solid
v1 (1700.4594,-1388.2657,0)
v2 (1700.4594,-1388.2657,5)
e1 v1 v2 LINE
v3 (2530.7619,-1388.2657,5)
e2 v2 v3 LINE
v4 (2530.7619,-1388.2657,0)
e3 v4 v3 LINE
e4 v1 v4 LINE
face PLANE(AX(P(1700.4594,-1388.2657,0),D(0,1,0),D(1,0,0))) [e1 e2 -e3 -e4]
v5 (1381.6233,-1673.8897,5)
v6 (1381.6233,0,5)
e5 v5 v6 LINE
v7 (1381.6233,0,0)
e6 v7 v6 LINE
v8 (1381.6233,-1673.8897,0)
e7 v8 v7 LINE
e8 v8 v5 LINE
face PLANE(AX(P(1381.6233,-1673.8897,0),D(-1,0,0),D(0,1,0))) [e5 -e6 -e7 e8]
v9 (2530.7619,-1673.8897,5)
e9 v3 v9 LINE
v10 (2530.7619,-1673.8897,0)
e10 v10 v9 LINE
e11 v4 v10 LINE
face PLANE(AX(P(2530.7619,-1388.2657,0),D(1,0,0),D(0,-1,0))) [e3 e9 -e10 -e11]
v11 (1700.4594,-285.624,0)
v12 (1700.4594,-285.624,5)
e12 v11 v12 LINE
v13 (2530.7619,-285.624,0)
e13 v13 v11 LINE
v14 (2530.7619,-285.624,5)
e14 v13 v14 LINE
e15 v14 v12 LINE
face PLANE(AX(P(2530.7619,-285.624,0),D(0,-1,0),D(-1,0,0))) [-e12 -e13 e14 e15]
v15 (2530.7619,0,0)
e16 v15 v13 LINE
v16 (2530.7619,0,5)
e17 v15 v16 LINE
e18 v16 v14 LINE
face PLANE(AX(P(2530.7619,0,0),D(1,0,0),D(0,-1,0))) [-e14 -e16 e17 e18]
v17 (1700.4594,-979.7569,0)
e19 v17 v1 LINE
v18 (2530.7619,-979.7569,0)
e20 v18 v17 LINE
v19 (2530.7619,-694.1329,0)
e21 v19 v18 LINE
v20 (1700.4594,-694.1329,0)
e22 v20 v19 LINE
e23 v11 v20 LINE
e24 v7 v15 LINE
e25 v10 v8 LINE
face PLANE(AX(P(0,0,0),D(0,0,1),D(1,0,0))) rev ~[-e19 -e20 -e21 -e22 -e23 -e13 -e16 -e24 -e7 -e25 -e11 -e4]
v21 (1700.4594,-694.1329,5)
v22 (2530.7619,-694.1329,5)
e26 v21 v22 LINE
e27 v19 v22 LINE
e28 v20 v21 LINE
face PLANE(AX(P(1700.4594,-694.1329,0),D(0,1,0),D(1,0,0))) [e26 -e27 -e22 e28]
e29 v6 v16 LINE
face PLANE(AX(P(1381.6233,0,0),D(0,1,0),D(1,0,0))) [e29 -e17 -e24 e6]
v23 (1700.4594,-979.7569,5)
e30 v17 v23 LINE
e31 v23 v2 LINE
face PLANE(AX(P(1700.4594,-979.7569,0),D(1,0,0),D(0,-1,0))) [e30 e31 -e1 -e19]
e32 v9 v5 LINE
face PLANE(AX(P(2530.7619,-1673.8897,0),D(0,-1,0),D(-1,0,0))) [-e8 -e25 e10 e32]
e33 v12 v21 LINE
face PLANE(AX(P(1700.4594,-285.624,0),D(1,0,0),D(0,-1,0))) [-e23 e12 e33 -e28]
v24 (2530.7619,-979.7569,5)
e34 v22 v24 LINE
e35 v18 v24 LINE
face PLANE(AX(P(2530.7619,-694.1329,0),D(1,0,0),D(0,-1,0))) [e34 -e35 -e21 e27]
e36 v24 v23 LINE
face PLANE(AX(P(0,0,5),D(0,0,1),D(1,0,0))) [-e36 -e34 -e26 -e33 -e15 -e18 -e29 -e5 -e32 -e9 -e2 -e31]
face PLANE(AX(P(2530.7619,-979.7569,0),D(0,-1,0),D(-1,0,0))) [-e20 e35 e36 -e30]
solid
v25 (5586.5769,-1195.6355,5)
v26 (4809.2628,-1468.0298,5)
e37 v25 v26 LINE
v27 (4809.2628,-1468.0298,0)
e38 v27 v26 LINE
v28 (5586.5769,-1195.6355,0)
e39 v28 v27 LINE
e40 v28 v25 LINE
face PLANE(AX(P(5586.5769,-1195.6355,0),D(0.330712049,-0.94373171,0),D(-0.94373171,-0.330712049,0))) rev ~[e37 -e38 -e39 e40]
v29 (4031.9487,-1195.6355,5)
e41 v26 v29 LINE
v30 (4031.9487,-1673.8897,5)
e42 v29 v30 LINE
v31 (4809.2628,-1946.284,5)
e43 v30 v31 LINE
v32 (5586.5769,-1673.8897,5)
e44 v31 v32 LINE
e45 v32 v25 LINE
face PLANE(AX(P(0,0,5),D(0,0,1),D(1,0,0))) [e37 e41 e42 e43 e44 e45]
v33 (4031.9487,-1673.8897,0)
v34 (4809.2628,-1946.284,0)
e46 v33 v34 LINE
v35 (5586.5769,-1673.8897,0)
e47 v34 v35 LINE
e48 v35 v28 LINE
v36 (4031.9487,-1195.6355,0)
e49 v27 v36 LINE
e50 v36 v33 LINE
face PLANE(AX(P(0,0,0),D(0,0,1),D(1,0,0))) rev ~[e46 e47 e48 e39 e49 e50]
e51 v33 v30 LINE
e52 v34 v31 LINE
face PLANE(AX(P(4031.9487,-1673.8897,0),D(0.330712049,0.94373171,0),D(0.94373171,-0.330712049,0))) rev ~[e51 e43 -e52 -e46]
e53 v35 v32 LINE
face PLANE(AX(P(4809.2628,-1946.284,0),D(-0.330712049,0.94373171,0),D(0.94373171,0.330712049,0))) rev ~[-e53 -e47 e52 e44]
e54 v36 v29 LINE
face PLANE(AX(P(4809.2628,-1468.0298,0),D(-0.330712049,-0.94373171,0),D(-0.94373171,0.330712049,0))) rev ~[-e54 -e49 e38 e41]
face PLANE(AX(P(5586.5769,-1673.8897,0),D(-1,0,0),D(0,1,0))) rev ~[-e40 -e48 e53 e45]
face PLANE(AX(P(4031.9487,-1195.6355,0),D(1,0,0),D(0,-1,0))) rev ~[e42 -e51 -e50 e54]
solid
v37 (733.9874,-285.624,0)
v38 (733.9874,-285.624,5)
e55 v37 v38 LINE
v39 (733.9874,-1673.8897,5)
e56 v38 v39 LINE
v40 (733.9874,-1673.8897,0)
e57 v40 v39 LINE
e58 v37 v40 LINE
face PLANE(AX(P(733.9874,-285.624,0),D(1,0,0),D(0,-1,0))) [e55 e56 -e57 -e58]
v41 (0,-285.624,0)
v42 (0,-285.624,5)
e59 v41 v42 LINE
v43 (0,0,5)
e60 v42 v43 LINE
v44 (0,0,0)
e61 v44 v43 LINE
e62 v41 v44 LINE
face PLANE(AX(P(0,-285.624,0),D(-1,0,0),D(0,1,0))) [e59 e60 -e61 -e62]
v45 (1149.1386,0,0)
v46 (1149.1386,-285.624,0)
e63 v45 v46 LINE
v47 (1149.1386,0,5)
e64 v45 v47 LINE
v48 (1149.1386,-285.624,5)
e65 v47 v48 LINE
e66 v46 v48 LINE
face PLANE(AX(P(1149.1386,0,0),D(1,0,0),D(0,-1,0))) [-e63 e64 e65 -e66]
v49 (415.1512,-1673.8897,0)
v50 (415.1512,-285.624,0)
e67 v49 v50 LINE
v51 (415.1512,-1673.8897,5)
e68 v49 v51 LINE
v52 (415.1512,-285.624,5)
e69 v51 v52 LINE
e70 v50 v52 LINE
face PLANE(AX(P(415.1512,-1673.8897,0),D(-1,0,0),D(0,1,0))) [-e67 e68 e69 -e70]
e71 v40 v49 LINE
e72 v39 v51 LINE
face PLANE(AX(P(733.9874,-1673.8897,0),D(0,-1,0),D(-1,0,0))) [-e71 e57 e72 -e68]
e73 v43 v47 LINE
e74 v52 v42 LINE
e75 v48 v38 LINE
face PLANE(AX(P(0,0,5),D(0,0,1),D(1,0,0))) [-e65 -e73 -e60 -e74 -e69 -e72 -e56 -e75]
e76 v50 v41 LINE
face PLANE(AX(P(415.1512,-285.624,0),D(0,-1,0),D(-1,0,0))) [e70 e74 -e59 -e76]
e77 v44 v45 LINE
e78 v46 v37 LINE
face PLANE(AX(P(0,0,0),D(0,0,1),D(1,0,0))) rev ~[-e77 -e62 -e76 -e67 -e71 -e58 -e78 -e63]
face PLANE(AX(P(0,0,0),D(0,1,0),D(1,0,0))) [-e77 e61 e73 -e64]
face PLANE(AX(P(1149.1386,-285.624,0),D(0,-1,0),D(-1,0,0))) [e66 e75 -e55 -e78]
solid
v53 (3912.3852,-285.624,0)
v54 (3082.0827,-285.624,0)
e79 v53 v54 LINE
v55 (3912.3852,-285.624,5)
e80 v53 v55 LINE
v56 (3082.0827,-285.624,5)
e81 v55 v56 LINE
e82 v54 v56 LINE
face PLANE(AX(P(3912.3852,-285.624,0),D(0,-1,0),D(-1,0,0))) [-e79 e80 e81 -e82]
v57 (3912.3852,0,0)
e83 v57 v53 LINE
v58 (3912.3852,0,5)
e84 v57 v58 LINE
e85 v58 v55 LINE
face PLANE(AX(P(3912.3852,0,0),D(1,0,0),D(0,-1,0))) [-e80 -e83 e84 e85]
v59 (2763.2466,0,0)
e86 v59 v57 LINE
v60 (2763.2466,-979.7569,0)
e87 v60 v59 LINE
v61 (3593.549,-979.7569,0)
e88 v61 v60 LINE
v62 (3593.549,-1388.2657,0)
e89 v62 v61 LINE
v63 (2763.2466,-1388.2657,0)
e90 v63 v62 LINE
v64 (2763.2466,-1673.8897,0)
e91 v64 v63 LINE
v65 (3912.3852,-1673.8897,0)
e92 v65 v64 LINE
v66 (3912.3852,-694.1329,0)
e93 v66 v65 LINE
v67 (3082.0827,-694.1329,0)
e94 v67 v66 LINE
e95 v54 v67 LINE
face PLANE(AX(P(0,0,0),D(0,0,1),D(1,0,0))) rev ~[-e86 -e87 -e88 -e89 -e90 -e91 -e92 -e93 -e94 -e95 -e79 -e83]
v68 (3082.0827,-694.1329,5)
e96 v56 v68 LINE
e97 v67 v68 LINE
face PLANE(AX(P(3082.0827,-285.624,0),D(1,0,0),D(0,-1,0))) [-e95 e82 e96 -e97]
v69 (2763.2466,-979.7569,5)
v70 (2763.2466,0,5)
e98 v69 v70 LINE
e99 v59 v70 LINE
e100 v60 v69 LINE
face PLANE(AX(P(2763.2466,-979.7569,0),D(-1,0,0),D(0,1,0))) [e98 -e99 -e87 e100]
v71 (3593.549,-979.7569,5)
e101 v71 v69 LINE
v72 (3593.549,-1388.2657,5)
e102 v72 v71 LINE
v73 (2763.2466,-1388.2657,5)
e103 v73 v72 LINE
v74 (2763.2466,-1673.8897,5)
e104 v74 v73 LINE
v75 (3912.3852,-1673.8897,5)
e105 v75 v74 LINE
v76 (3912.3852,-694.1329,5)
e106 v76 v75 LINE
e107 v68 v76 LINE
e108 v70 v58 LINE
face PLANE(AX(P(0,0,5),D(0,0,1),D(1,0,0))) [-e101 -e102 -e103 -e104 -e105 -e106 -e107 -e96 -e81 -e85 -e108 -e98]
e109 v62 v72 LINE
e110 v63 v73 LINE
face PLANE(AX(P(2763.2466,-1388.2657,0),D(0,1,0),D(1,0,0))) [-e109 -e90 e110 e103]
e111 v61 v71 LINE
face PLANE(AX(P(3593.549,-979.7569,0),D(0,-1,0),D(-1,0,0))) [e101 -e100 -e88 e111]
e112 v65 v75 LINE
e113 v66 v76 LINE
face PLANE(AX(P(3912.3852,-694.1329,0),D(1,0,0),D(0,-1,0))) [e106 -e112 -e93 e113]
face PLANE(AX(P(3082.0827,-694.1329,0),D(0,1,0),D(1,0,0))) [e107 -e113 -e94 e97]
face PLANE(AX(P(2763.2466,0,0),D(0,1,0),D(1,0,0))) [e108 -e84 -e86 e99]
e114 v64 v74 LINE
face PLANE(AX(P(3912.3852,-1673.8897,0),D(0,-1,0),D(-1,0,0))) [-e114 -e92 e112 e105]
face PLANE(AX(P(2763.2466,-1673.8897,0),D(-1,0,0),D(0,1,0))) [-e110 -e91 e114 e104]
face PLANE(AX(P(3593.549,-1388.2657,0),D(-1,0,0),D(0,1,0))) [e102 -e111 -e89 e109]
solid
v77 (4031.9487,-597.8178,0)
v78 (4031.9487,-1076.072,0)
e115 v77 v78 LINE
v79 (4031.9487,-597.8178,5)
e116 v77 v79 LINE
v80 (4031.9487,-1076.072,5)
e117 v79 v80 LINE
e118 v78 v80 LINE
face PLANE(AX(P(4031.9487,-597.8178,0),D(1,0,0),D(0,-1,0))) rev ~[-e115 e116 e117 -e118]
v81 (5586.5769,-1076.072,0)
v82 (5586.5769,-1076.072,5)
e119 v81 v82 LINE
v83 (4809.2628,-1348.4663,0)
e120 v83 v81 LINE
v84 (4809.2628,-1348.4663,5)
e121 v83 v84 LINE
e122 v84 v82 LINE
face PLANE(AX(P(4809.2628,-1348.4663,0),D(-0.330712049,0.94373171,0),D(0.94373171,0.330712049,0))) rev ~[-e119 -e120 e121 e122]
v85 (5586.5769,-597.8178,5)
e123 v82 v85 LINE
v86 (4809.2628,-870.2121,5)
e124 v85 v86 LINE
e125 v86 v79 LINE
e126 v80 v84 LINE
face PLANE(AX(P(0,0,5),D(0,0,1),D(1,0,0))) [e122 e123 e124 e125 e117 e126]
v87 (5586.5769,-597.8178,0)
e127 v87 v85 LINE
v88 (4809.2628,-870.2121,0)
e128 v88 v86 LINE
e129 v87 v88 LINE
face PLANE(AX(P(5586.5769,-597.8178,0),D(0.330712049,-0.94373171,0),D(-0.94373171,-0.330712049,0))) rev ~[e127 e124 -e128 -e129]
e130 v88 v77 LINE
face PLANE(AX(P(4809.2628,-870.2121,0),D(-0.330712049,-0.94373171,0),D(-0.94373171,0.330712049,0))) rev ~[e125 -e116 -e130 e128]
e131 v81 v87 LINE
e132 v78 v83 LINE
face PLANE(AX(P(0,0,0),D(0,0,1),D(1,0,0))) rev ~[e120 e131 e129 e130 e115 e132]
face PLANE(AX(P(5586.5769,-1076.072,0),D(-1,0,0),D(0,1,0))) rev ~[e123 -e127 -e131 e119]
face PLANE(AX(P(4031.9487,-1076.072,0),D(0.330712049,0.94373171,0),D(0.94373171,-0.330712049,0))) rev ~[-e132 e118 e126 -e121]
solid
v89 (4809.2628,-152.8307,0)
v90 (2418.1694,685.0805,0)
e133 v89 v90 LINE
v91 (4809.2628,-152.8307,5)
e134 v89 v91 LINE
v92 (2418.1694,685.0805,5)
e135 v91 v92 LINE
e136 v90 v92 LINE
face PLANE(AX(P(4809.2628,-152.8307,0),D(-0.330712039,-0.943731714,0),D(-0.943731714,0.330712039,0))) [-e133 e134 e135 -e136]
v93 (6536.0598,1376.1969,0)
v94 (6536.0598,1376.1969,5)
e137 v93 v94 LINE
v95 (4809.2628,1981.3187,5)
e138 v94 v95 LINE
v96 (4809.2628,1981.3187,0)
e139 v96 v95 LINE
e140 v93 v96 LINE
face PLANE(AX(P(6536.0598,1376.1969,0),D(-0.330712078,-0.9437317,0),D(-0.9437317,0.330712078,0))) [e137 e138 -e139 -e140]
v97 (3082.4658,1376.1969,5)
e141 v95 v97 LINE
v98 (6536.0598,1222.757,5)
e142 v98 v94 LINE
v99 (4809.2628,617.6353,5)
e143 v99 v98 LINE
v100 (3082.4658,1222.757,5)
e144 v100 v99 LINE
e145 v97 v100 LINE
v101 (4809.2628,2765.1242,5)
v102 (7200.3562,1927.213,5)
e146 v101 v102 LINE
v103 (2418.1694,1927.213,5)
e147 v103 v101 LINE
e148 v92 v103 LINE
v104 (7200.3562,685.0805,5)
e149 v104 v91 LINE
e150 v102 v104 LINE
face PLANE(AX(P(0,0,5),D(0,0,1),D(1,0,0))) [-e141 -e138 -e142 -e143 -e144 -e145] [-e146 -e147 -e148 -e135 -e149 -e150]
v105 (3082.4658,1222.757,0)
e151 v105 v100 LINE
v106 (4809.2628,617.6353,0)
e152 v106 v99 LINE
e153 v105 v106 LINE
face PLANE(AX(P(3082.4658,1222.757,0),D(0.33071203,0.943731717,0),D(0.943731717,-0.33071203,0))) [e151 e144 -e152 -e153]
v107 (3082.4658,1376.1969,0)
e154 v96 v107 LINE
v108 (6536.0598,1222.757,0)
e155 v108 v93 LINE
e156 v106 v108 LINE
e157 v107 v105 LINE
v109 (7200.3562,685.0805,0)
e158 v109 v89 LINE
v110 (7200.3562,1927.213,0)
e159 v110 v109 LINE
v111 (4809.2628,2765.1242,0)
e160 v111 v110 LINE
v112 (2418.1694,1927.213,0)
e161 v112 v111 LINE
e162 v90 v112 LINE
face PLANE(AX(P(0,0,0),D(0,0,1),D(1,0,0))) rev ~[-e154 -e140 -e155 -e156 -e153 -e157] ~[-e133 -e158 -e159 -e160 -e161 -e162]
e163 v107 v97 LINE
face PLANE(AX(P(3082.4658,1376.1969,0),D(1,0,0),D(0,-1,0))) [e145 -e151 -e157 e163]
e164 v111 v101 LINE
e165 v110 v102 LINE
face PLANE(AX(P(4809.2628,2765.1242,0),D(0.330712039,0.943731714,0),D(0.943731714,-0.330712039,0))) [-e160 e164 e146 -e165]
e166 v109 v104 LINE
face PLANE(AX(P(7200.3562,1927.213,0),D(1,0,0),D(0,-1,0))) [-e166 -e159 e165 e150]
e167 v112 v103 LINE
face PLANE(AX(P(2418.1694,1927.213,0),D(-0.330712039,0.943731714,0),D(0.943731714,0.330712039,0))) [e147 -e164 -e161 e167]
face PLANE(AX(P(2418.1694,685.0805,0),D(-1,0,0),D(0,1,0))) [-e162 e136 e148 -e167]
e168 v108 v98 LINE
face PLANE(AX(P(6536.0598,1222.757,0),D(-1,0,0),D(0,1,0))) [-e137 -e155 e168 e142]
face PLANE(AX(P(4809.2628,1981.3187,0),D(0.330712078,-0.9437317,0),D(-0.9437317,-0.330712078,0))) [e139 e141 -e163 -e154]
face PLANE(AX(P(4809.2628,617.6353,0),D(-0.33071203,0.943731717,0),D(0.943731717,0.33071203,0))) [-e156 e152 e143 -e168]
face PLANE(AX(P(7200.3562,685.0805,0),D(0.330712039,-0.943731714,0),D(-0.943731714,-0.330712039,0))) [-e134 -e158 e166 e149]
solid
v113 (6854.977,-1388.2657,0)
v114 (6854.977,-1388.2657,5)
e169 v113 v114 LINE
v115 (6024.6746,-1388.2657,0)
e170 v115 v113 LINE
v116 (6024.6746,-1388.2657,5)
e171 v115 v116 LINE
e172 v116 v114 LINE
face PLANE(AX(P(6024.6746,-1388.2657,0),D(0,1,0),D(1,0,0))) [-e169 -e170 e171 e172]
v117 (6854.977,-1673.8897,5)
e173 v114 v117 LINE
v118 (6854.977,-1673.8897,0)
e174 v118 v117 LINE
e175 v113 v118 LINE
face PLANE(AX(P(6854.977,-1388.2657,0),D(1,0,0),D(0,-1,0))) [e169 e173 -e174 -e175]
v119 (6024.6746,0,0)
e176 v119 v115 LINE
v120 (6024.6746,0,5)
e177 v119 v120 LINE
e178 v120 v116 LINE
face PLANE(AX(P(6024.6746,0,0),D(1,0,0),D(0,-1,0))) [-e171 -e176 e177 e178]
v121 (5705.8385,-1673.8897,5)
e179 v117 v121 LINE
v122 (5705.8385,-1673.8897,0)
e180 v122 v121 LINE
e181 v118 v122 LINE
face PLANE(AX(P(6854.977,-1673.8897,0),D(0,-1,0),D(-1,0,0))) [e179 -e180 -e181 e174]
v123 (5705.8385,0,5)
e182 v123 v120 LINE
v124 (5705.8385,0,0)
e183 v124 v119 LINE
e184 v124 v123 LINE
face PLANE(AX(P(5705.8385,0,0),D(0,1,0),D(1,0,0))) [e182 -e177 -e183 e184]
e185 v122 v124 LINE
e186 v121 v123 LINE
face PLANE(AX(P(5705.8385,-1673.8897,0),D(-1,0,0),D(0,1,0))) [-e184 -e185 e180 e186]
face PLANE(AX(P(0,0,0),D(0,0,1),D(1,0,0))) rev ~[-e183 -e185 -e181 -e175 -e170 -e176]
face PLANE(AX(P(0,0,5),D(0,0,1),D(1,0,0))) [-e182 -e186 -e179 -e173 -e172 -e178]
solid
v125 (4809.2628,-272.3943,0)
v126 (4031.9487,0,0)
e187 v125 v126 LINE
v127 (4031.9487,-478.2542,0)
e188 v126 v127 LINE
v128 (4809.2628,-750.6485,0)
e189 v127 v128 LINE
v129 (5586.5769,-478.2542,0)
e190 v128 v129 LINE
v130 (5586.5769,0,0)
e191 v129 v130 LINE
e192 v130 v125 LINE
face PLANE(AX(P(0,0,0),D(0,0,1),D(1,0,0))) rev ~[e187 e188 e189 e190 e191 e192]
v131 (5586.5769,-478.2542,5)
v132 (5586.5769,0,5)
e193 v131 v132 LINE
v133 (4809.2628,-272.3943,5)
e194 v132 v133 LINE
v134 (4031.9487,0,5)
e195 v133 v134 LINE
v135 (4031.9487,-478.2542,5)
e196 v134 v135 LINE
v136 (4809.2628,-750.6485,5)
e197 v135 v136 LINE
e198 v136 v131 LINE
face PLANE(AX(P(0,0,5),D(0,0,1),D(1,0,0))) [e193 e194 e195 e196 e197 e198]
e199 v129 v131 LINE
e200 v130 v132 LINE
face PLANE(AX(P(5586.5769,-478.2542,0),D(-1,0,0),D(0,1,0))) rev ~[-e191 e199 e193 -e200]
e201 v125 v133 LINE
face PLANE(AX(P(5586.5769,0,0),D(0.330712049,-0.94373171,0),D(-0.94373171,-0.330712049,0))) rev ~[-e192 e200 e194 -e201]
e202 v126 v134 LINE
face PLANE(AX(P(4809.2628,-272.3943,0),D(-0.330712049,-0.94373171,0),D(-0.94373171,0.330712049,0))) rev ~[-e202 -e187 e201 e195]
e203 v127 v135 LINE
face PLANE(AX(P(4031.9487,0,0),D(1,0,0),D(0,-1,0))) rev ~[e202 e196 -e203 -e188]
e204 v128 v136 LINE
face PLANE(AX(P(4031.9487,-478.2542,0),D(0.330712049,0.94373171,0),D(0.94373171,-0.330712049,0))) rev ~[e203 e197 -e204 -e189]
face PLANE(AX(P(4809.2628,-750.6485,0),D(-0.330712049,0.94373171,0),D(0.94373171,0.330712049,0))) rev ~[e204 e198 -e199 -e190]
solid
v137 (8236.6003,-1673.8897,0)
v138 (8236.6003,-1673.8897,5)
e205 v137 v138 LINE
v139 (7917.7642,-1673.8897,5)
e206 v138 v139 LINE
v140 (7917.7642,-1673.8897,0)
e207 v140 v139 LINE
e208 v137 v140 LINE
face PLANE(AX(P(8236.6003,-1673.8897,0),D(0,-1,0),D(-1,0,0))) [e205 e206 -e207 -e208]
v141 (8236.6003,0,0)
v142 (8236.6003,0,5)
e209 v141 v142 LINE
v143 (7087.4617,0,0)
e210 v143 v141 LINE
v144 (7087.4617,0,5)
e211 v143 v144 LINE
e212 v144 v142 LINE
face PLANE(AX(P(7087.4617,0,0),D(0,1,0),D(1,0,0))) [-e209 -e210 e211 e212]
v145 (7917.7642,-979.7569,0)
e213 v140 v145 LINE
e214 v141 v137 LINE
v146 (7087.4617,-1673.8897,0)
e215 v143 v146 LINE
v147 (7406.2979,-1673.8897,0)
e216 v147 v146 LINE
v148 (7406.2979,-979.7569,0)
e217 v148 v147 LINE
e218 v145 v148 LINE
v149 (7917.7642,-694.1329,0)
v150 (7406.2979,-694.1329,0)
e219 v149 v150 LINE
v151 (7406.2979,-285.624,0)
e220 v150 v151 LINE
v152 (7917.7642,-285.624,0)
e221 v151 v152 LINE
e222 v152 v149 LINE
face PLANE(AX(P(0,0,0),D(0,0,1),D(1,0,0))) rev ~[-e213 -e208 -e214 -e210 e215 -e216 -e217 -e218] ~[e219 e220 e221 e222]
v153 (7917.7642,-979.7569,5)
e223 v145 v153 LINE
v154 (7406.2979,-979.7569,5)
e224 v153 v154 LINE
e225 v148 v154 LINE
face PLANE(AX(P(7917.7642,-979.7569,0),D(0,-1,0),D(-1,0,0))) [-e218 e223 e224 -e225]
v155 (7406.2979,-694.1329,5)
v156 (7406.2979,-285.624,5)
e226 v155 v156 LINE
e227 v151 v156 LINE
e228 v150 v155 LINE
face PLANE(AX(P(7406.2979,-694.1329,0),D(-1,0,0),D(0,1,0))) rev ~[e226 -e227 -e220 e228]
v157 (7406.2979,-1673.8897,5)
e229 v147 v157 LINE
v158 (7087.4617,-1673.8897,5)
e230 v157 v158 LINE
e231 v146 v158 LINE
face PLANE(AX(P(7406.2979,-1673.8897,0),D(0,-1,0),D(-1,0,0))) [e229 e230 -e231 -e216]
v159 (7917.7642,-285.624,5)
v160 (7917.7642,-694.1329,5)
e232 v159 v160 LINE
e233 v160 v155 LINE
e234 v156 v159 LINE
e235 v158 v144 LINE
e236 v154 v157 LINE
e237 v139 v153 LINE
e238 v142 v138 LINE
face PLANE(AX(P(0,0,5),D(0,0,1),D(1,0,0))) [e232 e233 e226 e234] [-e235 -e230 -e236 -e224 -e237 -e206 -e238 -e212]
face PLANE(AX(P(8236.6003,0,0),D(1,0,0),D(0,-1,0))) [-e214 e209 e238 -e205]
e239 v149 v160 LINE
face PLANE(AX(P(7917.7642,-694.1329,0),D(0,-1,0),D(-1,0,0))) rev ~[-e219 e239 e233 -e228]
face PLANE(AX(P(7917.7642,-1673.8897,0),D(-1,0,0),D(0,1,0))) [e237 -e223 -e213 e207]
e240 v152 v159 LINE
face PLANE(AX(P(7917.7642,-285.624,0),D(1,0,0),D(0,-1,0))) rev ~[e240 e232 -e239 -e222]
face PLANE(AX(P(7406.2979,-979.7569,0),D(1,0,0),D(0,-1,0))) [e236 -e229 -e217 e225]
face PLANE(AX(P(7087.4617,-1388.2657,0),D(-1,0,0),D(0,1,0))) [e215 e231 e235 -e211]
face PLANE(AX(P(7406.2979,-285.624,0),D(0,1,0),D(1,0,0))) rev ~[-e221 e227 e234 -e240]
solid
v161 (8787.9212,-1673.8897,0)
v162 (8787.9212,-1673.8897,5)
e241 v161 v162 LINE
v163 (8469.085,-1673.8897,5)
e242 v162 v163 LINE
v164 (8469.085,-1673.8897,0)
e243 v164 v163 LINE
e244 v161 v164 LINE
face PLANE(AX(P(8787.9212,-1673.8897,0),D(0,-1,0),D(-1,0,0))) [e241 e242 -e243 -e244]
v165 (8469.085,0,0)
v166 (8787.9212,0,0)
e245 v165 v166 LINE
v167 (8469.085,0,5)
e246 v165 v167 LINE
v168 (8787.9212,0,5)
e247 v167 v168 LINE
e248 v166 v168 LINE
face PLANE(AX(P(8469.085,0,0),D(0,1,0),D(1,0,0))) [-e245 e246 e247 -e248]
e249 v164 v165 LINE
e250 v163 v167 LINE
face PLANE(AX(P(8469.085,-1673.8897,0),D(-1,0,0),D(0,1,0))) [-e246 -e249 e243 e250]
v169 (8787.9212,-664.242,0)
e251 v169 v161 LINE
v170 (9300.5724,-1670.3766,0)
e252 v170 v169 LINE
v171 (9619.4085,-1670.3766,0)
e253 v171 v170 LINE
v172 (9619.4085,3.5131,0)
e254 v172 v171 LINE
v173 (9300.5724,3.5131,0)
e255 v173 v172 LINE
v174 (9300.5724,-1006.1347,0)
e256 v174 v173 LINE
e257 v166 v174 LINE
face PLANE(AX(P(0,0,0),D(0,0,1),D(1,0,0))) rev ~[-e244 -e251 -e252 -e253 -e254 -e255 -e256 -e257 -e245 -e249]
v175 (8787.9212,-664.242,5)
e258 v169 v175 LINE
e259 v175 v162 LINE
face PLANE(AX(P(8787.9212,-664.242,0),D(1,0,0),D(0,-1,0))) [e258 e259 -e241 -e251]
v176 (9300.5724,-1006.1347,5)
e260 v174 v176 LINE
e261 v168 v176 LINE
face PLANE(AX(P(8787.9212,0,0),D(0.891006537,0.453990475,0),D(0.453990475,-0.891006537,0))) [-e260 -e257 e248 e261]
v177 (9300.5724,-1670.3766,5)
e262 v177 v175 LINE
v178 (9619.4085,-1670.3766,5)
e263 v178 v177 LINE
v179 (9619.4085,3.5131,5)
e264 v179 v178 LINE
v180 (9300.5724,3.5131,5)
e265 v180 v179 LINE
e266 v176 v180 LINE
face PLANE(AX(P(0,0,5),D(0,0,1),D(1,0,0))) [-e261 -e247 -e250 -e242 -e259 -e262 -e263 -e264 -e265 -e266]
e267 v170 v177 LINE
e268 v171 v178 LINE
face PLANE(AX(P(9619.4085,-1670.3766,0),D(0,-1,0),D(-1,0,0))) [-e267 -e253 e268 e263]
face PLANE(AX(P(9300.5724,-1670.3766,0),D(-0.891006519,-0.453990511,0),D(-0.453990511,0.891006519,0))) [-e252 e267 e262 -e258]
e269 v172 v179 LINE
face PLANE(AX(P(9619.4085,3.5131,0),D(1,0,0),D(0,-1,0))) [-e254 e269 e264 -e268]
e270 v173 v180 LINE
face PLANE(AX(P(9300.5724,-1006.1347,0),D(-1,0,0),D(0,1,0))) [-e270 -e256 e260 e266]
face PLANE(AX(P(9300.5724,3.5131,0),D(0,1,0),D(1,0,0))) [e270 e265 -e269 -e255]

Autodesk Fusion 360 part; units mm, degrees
sketch "Sketch1" plane through (0, 0, 0) normal (0, 0, 1) x (1, 0, 0)
  line L0 (0, 0) -> (1149.1386, 0)
  line L1 (1149.1386, 0) -> (1149.1386, -285.624)
  line L2 (1149.1386, -285.624) -> (733.9874, -285.624)
  line L3 (733.9874, -285.624) -> (733.9874, -1673.8897)
  line L4 (733.9874, -1673.8897) -> (415.1512, -1673.8897)
  line L5 (415.1512, -1673.8897) -> (415.1512, -285.624)
  line L6 (415.1512, -285.624) -> (0, -285.624)
  line L7 (0, -285.624) -> (0, 0)
  line L8 (1149.1386, 0) -> (1381.6233, 0) construction
  line L9 (1381.6233, 0) -> (2530.7619, 0)
  line L10 (2530.7619, 0) -> (2530.7619, -285.624)
  line L11 (2530.7619, -285.624) -> (1700.4594, -285.624)
  line L12 (1700.4594, -285.624) -> (1700.4594, -694.1329)
  line L13 (1700.4594, -694.1329) -> (2530.7619, -694.1329)
  line L14 (2530.7619, -694.1329) -> (2530.7619, -979.7569)
  line L15 (2530.7619, -979.7569) -> (1700.4594, -979.7569)
  line L16 (1700.4594, -979.7569) -> (1700.4594, -1388.2657)
  line L17 (1700.4594, -1388.2657) -> (2530.7619, -1388.2657)
  line L18 (2530.7619, -1388.2657) -> (2530.7619, -1673.8897)
  line L19 (2530.7619, -1673.8897) -> (1381.6233, -1673.8897)
  line L20 (1381.6233, -1673.8897) -> (1381.6233, 0)
  line L21 (2530.7619, 0) -> (2763.2466, 0) construction
  line L22 (2763.2466, 0) -> (3912.3852, 0)
  line L23 (3912.3852, 0) -> (3912.3852, -285.624)
  line L24 (3912.3852, -285.624) -> (3082.0827, -285.624)
  line L25 (3082.0827, -285.624) -> (3082.0827, -694.1329)
  line L26 (3082.0827, -694.1329) -> (3912.3852, -694.1329)
  line L27 (3912.3852, -694.1329) -> (3912.3852, -1673.8897)
  line L28 (3912.3852, -1673.8897) -> (2763.2466, -1673.8897)
  line L29 (2763.2466, -1673.8897) -> (2763.2466, -1388.2657)
  line L30 (2763.2466, -1388.2657) -> (3593.549, -1388.2657)
  line L31 (3593.549, -1388.2657) -> (3593.549, -979.7569)
  line L32 (3593.549, -979.7569) -> (2763.2466, -979.7569)
  line L33 (2763.2466, -979.7569) -> (2763.2466, 0)
  line L34 (3912.3852, 0) -> (4031.9487, 0) construction
  line L35 (4031.9487, 0) -> (5586.2749, 0) construction
  line L36 (5586.2749, 0) -> (5705.8385, 0) construction
  line L37 (5705.8385, 0) -> (6024.6746, 0)
  line L38 (6024.6746, 0) -> (6024.6746, -1388.2657)
  line L39 (6024.6746, -1388.2657) -> (6854.977, -1388.2657)
  line L40 (6854.977, -1388.2657) -> (6854.977, -1673.8897)
  line L41 (6854.977, -1673.8897) -> (5705.8385, -1673.8897)
  line L42 (5705.8385, -1673.8897) -> (5705.8385, 0)
  line L43 (6854.977, -1388.2657) -> (7087.4617, -1388.2657) construction
  line L44 (7087.4617, -1388.2657) -> (7087.4617, 0)
  line L45 (7087.4617, 0) -> (8236.6003, 0)
  line L46 (8236.6003, 0) -> (8236.6003, -1673.8897)
  line L47 (8236.6003, -1673.8897) -> (7917.7642, -1673.8897)
  line L48 (7917.7642, -1673.8897) -> (7917.7642, -979.7569)
  line L49 (7917.7642, -979.7569) -> (7406.2979, -979.7569)
  line L50 (7406.2979, -979.7569) -> (7406.2979, -1673.8897)
  line L51 (7406.2979, -1673.8897) -> (7087.4617, -1673.8897)
  line L52 (7087.4617, -1673.8897) -> (7087.4617, -1388.2657)
  line L53 (7087.4617, 0) -> (7406.2979, 0) construction
  line L54 (7406.2979, 0) -> (7406.2979, -285.624) construction
  line L55 (7406.2979, -285.624) -> (7087.4617, -285.624) construction
  line L56 (7087.4617, -285.624) -> (7087.4617, 0) construction
  line L57 (7406.2979, -285.624) -> (7917.7642, -285.624)
  line L58 (7917.7642, -285.624) -> (7917.7642, -694.1329)
  line L59 (7917.7642, -694.1329) -> (7406.2979, -694.1329)
  line L60 (7406.2979, -694.1329) -> (7406.2979, -285.624)
  line L61 (8236.6003, 0) -> (8469.085, 0) construction
  line L62 (8469.085, 0) -> (8787.9212, 0)
  line L63 (8787.9212, 0) -> (9300.5724, -1006.1347)
  line L64 (9300.5724, -1006.1347) -> (9300.5724, 3.5131)
  line L65 (9300.5724, 3.5131) -> (9619.4085, 3.5131)
  line L66 (9619.4085, 3.5131) -> (9619.4085, -1670.3766)
  line L67 (9619.4085, -1670.3766) -> (9300.5724, -1670.3766)
  line L68 (9300.5724, -1670.3766) -> (8787.9212, -664.242)
  line L69 (8787.9212, -664.242) -> (8787.9212, -1673.8897)
  line L70 (8787.9212, -1673.8897) -> (8469.085, -1673.8897)
  line L71 (8469.085, -1673.8897) -> (8469.085, 0)
  line L72 (4031.9487, 0) -> (4031.9487, -478.2542)
  line L73 (4031.9487, -478.2542) -> (4809.2628, -750.6485)
  line L74 (4809.2628, -750.6485) -> (5586.5769, -478.2542)
  line L75 (5586.5769, -478.2542) -> (5586.5769, 0)
  line L76 (5586.5769, 0) -> (4809.2628, -272.3943)
  line L77 (4809.2628, -272.3943) -> (4031.9487, 0)
  line L78 (4031.9487, -478.2542) -> (4031.9487, -597.8178) construction
  line L79 (4031.9487, -597.8178) -> (4031.9487, -1076.072)
  line L80 (4031.9487, -1076.072) -> (4809.2628, -1348.4663)
  line L81 (4809.2628, -1348.4663) -> (5586.5769, -1076.072)
  line L82 (5586.5769, -1076.072) -> (5586.5769, -597.8178)
  line L83 (5586.5769, -597.8178) -> (4809.2628, -870.2121)
  line L84 (4809.2628, -870.2121) -> (4031.9487, -597.8178)
  line L85 (4031.9487, -1076.072) -> (4031.9487, -1195.6355) construction
  line L86 (4031.9487, -1195.6355) -> (4031.9487, -1673.8897)
  line L87 (4031.9487, -1673.8897) -> (4809.2628, -1946.284)
  line L88 (4809.2628, -1946.284) -> (5586.5769, -1673.8897)
  line L89 (5586.5769, -1673.8897) -> (5586.5769, -1195.6355)
  line L90 (5586.5769, -1195.6355) -> (4809.2628, -1468.0298)
  line L91 (4809.2628, -1468.0298) -> (4031.9487, -1195.6355)
  line L92 (4809.2628, -272.3943) -> (4809.2628, -152.8307) construction
  line L93 (4809.2628, -152.8307) -> (2418.1694, 685.0805)
  line L94 (2418.1694, 685.0805) -> (2418.1694, 1927.213)
  line L95 (2418.1694, 1927.213) -> (4809.2628, 2765.1242)
  line L96 (4809.2628, 2765.1242) -> (7200.3562, 1927.213)
  line L97 (7200.3562, 1927.213) -> (7200.3562, 685.0805)
  line L98 (7200.3562, 685.0805) -> (4809.2628, -152.8307)
  line L99 (4809.2628, 2765.1242) -> (4809.2628, 1981.3187) construction
  line L100 (4809.2628, 1981.3187) -> (3082.4658, 1376.1969)
  line L101 (3082.4658, 1376.1969) -> (3082.4658, 1222.757)
  line L102 (3082.4658, 1222.757) -> (4809.2628, 617.6353)
  line L103 (4809.2628, 617.6353) -> (6536.0598, 1222.757)
  line L104 (6536.0598, 1222.757) -> (6536.0598, 1376.1969)
  line L105 (6536.0598, 1376.1969) -> (4809.2628, 1981.3187)
  dimension "d38" = 1149.1386
  dimension "d39" = 90
  dimension "d40" = 285.624
  dimension "d41" = 90
  dimension "d42" = 415.1512
  dimension "d43" = 90
  dimension "d44" = 1388.2657
  dimension "d45" = 90
  dimension "d46" = 318.8361
  dimension "d47" = 90
  dimension "d48" = 1388.2657
  dimension "d49" = 90
  dimension "d50" = 415.1512
  dimension "d51" = 285.624
  dimension "d52" = 90
  dimension "d53" = 232.4847
  dimension "d54" = 1149.1386
  dimension "d55" = 285.624
  dimension "d56" = 90
  dimension "d57" = 830.3025
  dimension "d58" = 90
  dimension "d59" = 408.5088
  dimension "d60" = 90
  dimension "d61" = 830.3025
  dimension "d62" = 285.624
  dimension "d63" = 90
  dimension "d64" = 830.3025
  dimension "d65" = 408.5088
  dimension "d66" = 830.3025
  dimension "d67" = 285.624
  dimension "d68" = 1149.1386
  dimension "d69" = 232.4847
  dimension "d70" = 1149.1386
  dimension "d71" = 90
  dimension "d72" = 285.624
  dimension "d73" = 90
  dimension "d74" = 830.3025
  dimension "d75" = 408.5088
  dimension "d76" = 830.3025
  dimension "d77" = 979.7569
  dimension "d78" = 1149.1386
  dimension "d79" = 285.624
  dimension "d80" = 830.3025
  dimension "d81" = 408.5088
  dimension "d82" = 830.3025
  dimension "d83" = 119.5636
  dimension "d84" = 1554.3262
  dimension "d85" = 119.5636
  dimension "d86" = 318.8361
  dimension "d87" = 1388.2657
  dimension "d88" = 830.3025
  dimension "d89" = 285.624
  dimension "d90" = 1149.1386
  dimension "d91" = 1673.8897
  dimension "d92" = 232.4847
  dimension "d93" = 1388.2657
  dimension "d94" = 1149.1386
  dimension "d95" = 1673.8897
  dimension "d96" = 318.8361
  dimension "d97" = 694.1329
  dimension "d98" = 511.4663
  dimension "d99" = 694.1329
  dimension "d100" = 318.8361
  dimension "d101" = 318.8361
  dimension "d102" = 285.624
  dimension "d103" = 511.4663
  dimension "d104" = 408.5088
  dimension "d105" = 232.4847
  dimension "d106" = 318.8361
  dimension "d107" = 117
  dimension "d108" = 1129.2113
  dimension "d109" = 1009.6478
  dimension "d110" = 318.8361
  dimension "d111" = 1673.8897
  dimension "d112" = 318.8361
  dimension "d113" = 117
  dimension "d114" = 1129.2113
  dimension "d115" = 1009.6478
  dimension "d116" = 318.8361
  dimension "d117" = 478.2542
  dimension "d118" = 109.312
  dimension "d119" = 823.66
  dimension "d120" = 141.376
  dimension "d121" = 823.66
  dimension "d122" = 109.312
  dimension "d123" = 478.2542
  dimension "d124" = 70.688
  dimension "d125" = 823.66
  dimension "d126" = 119.5636
  dimension "d127" = 478.2542
  dimension "d128" = 823.66
  dimension "d129" = 109.312
  dimension "d130" = 141.376
  dimension "d131" = 823.66
  dimension "d132" = 109.312
  dimension "d133" = 478.2542
  dimension "d134" = 70.688
  dimension "d135" = 823.66
  dimension "d136" = 119.5636
  dimension "d137" = 478.2542
  dimension "d138" = 109.312
  dimension "d139" = 823.66
  dimension "d140" = 141.376
  dimension "d141" = 823.66
  dimension "d142" = 109.312
  dimension "d143" = 478.2542
  dimension "d144" = 70.688
  dimension "d145" = 823.66
  dimension "d146" = 119.5636
  dimension "d147" = 109.312
  dimension "d148" = 2533.658
  dimension "d149" = 109.312
  dimension "d150" = 1242.1325
  dimension "d151" = 109.312
  dimension "d152" = 2533.658
  dimension "d153" = 141.376
  dimension "d154" = 2533.658
  dimension "d155" = 109.312
  dimension "d156" = 1242.1325
  dimension "d157" = 783.8055
  dimension "d158" = 1829.7541
  dimension "d159" = 153.4399
  dimension "d160" = 109.312
  dimension "d161" = 109.312
  dimension "d162" = 1829.7541
  dimension "d163" = 141.376
  dimension "d164" = 1829.7541
  dimension "d165" = 109.312
  dimension "d166" = 153.4399
extrude "Extrude1" add sketch "Sketch1" along normal blind 5 makes body 1 at (1487.902, -789.3409, 0) makes body 2 at (5068.3675, -500.4323, 0) makes body 3 at (521.4299, -748.3793, 0) makes body 4 at (3436.6327, 2022.8447, 0) makes body 5 at (7193.7404, -789.3409, 0) makes body 6 at (5812.1172, -1020.7185, 0) makes body 7 at (5068.3675, -1098.2501, 0) makes body 8 at (9513.1298, -890.9994, 0) makes body 9 at (5068.3675, -1696.0679, 0) makes body 10 at (2869.5253, -557.9632, 0)
equation "scaling_factor = 0.006642419620910471" comment "<-- scaling factor dimension calculator-inator"
equation "sf = scaling_factor * 1000"
equation "AA = ( 173 * sf ) * 1 mm"
equation "AB = ( 43 * sf ) * 1 mm"
equation "AC = ( 62.5 * sf ) * 1 mm"
equation "AD = ( 209 * sf ) * 1 mm"
equation "AE = ( 48 * sf ) * 1 mm"
equation "AF = ( 125 * sf ) * 1 mm"
equation "AG = ( 61.5 * sf ) * 1 mm"
equation "AH = ( 252 * sf ) * 1 mm"
equation "AI = ( 147.5 * sf ) * 1 mm"
equation "AJ = ( 72 * sf ) * 1 mm"
equation "AK = ( 124 * sf ) * 1 mm"
equation "AL = ( 104.5 * sf ) * 1 mm"
equation "AM = ( 77 * sf ) * 1 mm"
equation "AN = ( 152 * sf ) * 1 mm"
equation "AO = ( 170 * sf ) * 1 mm"
equation "AP = ( 381.436 * sf ) * 1 mm"
equation "AQ = ( 187 * sf ) * 1 mm"
equation "AR = ( 275.465 * sf ) * 1 mm"
equation "AS = ( 23.1 * sf ) * 1 mm"
equation "BA = ( 35 * sf ) * 1 mm"
equation "BB = ( 18 * sf ) * 1 mm"
equation "BC = ( 234 * sf ) * 1 mm"
equation "BD = ( 77 * sf ) * 1 mm"
equation "BE = ( 48 * sf ) * 1 mm"
equation "BF = ( 43 * sf ) * 1 mm"
equation "BH = ( 118 * sf ) * 1 mm"
equation "tw = ( 1148 * sf ) * 1 mm"
equation "th = ( 709.2 * sf ) * 1 mm"
equation "aa = 70.688 deg"
equation "ab = 109.312 deg"
equation "ac = 141.376 deg"
equation "af = 27 deg"
equation "agg = 117 deg" comment "Letop, ag was al bezet, dus deze heet agg"
equation "d38 = AA"
equation "d40 = AB"
equation "d42 = AC"
equation "d44 = AD"
equation "d46 = AE"
equation "d48 = AD"
equation "d50 = AC"
equation "d51 = AB"
equation "d53 = BA"
equation "d54 = AA"
equation "d55 = AB"
equation "d57 = AF"
equation "d59 = AG"
equation "d61 = AF"
equation "d62 = AB"
equation "d64 = AF"
equation "d65 = AG"
equation "d66 = AF"
equation "d67 = AB"
equation "d68 = AA"
equation "d69 = BA"
equation "d70 = AA"
equation "d72 = AB"
equation "d74 = AF"
equation "d75 = AG"
equation "d76 = AF"
equation "d77 = AI"
equation "d78 = AA"
equation "d79 = AB"
equation "d80 = AF"
equation "d81 = AG"
equation "d82 = AF"
equation "d83 = BB"
equation "d84 = BC"
equation "d85 = BB"
equation "d86 = AE"
equation "d87 = AD"
equation "d88 = AF"
equation "d89 = AB"
equation "d90 = AA"
equation "d91 = AH"
equation "d92 = BA"
equation "d93 = AH - AB"
equation "d94 = AA"
equation "d95 = AH"
equation "d96 = AE"
equation "d97 = AL"
equation "d98 = AM"
equation "d99 = AL"
equation "d100 = AE"
equation "d101 = BE"
equation "d102 = BF"
equation "d103 = AM"
equation "d104 = AG"
equation "d105 = BA"
equation "d106 = AE"
equation "d107 = agg"
equation "d108 = AO"
equation "d109 = AN"
equation "d110 = AE"
equation "d111 = AH"
equation "d112 = AE"
equation "d113 = agg"
equation "d114 = AO"
equation "d115 = AN"
equation "d116 = AE"
equation "d117 = AJ"
equation "d118 = ab"
equation "d119 = AK"
equation "d120 = ac"
equation "d121 = AK"
equation "d122 = ab"
equation "d123 = AJ"
equation "d124 = aa"
equation "d125 = AK"
equation "d126 = BB"
equation "d127 = AJ"
equation "d128 = AK"
equation "d129 = ab"
equation "d130 = ac"
equation "d131 = AK"
equation "d132 = ab"
equation "d133 = AJ"
equation "d134 = aa"
equation "d135 = AK"
equation "d136 = BB"
equation "d137 = AJ"
equation "d138 = ab"
equation "d139 = AK"
equation "d140 = ac"
equation "d141 = AK"
equation "d142 = ab"
equation "d143 = AJ"
equation "d144 = aa"
equation "d145 = AK"
equation "d146 = BB"
equation "d147 = 180 deg - ( ac / 2 )"
equation "d148 = AP"
equation "d149 = ab"
equation "d150 = AQ"
equation "d151 = ab"
equation "d152 = AP"
equation "d153 = ac"
equation "d154 = AP"
equation "d155 = ab"
equation "d156 = AQ"
equation "d157 = BH"
equation "d158 = AR"
equation "d159 = AS"
equation "d160 = ab"
equation "d161 = ab"
equation "d162 = AR"
equation "d163 = ac"
equation "d164 = AR"
equation "d165 = ab"
equation "d166 = AS"
